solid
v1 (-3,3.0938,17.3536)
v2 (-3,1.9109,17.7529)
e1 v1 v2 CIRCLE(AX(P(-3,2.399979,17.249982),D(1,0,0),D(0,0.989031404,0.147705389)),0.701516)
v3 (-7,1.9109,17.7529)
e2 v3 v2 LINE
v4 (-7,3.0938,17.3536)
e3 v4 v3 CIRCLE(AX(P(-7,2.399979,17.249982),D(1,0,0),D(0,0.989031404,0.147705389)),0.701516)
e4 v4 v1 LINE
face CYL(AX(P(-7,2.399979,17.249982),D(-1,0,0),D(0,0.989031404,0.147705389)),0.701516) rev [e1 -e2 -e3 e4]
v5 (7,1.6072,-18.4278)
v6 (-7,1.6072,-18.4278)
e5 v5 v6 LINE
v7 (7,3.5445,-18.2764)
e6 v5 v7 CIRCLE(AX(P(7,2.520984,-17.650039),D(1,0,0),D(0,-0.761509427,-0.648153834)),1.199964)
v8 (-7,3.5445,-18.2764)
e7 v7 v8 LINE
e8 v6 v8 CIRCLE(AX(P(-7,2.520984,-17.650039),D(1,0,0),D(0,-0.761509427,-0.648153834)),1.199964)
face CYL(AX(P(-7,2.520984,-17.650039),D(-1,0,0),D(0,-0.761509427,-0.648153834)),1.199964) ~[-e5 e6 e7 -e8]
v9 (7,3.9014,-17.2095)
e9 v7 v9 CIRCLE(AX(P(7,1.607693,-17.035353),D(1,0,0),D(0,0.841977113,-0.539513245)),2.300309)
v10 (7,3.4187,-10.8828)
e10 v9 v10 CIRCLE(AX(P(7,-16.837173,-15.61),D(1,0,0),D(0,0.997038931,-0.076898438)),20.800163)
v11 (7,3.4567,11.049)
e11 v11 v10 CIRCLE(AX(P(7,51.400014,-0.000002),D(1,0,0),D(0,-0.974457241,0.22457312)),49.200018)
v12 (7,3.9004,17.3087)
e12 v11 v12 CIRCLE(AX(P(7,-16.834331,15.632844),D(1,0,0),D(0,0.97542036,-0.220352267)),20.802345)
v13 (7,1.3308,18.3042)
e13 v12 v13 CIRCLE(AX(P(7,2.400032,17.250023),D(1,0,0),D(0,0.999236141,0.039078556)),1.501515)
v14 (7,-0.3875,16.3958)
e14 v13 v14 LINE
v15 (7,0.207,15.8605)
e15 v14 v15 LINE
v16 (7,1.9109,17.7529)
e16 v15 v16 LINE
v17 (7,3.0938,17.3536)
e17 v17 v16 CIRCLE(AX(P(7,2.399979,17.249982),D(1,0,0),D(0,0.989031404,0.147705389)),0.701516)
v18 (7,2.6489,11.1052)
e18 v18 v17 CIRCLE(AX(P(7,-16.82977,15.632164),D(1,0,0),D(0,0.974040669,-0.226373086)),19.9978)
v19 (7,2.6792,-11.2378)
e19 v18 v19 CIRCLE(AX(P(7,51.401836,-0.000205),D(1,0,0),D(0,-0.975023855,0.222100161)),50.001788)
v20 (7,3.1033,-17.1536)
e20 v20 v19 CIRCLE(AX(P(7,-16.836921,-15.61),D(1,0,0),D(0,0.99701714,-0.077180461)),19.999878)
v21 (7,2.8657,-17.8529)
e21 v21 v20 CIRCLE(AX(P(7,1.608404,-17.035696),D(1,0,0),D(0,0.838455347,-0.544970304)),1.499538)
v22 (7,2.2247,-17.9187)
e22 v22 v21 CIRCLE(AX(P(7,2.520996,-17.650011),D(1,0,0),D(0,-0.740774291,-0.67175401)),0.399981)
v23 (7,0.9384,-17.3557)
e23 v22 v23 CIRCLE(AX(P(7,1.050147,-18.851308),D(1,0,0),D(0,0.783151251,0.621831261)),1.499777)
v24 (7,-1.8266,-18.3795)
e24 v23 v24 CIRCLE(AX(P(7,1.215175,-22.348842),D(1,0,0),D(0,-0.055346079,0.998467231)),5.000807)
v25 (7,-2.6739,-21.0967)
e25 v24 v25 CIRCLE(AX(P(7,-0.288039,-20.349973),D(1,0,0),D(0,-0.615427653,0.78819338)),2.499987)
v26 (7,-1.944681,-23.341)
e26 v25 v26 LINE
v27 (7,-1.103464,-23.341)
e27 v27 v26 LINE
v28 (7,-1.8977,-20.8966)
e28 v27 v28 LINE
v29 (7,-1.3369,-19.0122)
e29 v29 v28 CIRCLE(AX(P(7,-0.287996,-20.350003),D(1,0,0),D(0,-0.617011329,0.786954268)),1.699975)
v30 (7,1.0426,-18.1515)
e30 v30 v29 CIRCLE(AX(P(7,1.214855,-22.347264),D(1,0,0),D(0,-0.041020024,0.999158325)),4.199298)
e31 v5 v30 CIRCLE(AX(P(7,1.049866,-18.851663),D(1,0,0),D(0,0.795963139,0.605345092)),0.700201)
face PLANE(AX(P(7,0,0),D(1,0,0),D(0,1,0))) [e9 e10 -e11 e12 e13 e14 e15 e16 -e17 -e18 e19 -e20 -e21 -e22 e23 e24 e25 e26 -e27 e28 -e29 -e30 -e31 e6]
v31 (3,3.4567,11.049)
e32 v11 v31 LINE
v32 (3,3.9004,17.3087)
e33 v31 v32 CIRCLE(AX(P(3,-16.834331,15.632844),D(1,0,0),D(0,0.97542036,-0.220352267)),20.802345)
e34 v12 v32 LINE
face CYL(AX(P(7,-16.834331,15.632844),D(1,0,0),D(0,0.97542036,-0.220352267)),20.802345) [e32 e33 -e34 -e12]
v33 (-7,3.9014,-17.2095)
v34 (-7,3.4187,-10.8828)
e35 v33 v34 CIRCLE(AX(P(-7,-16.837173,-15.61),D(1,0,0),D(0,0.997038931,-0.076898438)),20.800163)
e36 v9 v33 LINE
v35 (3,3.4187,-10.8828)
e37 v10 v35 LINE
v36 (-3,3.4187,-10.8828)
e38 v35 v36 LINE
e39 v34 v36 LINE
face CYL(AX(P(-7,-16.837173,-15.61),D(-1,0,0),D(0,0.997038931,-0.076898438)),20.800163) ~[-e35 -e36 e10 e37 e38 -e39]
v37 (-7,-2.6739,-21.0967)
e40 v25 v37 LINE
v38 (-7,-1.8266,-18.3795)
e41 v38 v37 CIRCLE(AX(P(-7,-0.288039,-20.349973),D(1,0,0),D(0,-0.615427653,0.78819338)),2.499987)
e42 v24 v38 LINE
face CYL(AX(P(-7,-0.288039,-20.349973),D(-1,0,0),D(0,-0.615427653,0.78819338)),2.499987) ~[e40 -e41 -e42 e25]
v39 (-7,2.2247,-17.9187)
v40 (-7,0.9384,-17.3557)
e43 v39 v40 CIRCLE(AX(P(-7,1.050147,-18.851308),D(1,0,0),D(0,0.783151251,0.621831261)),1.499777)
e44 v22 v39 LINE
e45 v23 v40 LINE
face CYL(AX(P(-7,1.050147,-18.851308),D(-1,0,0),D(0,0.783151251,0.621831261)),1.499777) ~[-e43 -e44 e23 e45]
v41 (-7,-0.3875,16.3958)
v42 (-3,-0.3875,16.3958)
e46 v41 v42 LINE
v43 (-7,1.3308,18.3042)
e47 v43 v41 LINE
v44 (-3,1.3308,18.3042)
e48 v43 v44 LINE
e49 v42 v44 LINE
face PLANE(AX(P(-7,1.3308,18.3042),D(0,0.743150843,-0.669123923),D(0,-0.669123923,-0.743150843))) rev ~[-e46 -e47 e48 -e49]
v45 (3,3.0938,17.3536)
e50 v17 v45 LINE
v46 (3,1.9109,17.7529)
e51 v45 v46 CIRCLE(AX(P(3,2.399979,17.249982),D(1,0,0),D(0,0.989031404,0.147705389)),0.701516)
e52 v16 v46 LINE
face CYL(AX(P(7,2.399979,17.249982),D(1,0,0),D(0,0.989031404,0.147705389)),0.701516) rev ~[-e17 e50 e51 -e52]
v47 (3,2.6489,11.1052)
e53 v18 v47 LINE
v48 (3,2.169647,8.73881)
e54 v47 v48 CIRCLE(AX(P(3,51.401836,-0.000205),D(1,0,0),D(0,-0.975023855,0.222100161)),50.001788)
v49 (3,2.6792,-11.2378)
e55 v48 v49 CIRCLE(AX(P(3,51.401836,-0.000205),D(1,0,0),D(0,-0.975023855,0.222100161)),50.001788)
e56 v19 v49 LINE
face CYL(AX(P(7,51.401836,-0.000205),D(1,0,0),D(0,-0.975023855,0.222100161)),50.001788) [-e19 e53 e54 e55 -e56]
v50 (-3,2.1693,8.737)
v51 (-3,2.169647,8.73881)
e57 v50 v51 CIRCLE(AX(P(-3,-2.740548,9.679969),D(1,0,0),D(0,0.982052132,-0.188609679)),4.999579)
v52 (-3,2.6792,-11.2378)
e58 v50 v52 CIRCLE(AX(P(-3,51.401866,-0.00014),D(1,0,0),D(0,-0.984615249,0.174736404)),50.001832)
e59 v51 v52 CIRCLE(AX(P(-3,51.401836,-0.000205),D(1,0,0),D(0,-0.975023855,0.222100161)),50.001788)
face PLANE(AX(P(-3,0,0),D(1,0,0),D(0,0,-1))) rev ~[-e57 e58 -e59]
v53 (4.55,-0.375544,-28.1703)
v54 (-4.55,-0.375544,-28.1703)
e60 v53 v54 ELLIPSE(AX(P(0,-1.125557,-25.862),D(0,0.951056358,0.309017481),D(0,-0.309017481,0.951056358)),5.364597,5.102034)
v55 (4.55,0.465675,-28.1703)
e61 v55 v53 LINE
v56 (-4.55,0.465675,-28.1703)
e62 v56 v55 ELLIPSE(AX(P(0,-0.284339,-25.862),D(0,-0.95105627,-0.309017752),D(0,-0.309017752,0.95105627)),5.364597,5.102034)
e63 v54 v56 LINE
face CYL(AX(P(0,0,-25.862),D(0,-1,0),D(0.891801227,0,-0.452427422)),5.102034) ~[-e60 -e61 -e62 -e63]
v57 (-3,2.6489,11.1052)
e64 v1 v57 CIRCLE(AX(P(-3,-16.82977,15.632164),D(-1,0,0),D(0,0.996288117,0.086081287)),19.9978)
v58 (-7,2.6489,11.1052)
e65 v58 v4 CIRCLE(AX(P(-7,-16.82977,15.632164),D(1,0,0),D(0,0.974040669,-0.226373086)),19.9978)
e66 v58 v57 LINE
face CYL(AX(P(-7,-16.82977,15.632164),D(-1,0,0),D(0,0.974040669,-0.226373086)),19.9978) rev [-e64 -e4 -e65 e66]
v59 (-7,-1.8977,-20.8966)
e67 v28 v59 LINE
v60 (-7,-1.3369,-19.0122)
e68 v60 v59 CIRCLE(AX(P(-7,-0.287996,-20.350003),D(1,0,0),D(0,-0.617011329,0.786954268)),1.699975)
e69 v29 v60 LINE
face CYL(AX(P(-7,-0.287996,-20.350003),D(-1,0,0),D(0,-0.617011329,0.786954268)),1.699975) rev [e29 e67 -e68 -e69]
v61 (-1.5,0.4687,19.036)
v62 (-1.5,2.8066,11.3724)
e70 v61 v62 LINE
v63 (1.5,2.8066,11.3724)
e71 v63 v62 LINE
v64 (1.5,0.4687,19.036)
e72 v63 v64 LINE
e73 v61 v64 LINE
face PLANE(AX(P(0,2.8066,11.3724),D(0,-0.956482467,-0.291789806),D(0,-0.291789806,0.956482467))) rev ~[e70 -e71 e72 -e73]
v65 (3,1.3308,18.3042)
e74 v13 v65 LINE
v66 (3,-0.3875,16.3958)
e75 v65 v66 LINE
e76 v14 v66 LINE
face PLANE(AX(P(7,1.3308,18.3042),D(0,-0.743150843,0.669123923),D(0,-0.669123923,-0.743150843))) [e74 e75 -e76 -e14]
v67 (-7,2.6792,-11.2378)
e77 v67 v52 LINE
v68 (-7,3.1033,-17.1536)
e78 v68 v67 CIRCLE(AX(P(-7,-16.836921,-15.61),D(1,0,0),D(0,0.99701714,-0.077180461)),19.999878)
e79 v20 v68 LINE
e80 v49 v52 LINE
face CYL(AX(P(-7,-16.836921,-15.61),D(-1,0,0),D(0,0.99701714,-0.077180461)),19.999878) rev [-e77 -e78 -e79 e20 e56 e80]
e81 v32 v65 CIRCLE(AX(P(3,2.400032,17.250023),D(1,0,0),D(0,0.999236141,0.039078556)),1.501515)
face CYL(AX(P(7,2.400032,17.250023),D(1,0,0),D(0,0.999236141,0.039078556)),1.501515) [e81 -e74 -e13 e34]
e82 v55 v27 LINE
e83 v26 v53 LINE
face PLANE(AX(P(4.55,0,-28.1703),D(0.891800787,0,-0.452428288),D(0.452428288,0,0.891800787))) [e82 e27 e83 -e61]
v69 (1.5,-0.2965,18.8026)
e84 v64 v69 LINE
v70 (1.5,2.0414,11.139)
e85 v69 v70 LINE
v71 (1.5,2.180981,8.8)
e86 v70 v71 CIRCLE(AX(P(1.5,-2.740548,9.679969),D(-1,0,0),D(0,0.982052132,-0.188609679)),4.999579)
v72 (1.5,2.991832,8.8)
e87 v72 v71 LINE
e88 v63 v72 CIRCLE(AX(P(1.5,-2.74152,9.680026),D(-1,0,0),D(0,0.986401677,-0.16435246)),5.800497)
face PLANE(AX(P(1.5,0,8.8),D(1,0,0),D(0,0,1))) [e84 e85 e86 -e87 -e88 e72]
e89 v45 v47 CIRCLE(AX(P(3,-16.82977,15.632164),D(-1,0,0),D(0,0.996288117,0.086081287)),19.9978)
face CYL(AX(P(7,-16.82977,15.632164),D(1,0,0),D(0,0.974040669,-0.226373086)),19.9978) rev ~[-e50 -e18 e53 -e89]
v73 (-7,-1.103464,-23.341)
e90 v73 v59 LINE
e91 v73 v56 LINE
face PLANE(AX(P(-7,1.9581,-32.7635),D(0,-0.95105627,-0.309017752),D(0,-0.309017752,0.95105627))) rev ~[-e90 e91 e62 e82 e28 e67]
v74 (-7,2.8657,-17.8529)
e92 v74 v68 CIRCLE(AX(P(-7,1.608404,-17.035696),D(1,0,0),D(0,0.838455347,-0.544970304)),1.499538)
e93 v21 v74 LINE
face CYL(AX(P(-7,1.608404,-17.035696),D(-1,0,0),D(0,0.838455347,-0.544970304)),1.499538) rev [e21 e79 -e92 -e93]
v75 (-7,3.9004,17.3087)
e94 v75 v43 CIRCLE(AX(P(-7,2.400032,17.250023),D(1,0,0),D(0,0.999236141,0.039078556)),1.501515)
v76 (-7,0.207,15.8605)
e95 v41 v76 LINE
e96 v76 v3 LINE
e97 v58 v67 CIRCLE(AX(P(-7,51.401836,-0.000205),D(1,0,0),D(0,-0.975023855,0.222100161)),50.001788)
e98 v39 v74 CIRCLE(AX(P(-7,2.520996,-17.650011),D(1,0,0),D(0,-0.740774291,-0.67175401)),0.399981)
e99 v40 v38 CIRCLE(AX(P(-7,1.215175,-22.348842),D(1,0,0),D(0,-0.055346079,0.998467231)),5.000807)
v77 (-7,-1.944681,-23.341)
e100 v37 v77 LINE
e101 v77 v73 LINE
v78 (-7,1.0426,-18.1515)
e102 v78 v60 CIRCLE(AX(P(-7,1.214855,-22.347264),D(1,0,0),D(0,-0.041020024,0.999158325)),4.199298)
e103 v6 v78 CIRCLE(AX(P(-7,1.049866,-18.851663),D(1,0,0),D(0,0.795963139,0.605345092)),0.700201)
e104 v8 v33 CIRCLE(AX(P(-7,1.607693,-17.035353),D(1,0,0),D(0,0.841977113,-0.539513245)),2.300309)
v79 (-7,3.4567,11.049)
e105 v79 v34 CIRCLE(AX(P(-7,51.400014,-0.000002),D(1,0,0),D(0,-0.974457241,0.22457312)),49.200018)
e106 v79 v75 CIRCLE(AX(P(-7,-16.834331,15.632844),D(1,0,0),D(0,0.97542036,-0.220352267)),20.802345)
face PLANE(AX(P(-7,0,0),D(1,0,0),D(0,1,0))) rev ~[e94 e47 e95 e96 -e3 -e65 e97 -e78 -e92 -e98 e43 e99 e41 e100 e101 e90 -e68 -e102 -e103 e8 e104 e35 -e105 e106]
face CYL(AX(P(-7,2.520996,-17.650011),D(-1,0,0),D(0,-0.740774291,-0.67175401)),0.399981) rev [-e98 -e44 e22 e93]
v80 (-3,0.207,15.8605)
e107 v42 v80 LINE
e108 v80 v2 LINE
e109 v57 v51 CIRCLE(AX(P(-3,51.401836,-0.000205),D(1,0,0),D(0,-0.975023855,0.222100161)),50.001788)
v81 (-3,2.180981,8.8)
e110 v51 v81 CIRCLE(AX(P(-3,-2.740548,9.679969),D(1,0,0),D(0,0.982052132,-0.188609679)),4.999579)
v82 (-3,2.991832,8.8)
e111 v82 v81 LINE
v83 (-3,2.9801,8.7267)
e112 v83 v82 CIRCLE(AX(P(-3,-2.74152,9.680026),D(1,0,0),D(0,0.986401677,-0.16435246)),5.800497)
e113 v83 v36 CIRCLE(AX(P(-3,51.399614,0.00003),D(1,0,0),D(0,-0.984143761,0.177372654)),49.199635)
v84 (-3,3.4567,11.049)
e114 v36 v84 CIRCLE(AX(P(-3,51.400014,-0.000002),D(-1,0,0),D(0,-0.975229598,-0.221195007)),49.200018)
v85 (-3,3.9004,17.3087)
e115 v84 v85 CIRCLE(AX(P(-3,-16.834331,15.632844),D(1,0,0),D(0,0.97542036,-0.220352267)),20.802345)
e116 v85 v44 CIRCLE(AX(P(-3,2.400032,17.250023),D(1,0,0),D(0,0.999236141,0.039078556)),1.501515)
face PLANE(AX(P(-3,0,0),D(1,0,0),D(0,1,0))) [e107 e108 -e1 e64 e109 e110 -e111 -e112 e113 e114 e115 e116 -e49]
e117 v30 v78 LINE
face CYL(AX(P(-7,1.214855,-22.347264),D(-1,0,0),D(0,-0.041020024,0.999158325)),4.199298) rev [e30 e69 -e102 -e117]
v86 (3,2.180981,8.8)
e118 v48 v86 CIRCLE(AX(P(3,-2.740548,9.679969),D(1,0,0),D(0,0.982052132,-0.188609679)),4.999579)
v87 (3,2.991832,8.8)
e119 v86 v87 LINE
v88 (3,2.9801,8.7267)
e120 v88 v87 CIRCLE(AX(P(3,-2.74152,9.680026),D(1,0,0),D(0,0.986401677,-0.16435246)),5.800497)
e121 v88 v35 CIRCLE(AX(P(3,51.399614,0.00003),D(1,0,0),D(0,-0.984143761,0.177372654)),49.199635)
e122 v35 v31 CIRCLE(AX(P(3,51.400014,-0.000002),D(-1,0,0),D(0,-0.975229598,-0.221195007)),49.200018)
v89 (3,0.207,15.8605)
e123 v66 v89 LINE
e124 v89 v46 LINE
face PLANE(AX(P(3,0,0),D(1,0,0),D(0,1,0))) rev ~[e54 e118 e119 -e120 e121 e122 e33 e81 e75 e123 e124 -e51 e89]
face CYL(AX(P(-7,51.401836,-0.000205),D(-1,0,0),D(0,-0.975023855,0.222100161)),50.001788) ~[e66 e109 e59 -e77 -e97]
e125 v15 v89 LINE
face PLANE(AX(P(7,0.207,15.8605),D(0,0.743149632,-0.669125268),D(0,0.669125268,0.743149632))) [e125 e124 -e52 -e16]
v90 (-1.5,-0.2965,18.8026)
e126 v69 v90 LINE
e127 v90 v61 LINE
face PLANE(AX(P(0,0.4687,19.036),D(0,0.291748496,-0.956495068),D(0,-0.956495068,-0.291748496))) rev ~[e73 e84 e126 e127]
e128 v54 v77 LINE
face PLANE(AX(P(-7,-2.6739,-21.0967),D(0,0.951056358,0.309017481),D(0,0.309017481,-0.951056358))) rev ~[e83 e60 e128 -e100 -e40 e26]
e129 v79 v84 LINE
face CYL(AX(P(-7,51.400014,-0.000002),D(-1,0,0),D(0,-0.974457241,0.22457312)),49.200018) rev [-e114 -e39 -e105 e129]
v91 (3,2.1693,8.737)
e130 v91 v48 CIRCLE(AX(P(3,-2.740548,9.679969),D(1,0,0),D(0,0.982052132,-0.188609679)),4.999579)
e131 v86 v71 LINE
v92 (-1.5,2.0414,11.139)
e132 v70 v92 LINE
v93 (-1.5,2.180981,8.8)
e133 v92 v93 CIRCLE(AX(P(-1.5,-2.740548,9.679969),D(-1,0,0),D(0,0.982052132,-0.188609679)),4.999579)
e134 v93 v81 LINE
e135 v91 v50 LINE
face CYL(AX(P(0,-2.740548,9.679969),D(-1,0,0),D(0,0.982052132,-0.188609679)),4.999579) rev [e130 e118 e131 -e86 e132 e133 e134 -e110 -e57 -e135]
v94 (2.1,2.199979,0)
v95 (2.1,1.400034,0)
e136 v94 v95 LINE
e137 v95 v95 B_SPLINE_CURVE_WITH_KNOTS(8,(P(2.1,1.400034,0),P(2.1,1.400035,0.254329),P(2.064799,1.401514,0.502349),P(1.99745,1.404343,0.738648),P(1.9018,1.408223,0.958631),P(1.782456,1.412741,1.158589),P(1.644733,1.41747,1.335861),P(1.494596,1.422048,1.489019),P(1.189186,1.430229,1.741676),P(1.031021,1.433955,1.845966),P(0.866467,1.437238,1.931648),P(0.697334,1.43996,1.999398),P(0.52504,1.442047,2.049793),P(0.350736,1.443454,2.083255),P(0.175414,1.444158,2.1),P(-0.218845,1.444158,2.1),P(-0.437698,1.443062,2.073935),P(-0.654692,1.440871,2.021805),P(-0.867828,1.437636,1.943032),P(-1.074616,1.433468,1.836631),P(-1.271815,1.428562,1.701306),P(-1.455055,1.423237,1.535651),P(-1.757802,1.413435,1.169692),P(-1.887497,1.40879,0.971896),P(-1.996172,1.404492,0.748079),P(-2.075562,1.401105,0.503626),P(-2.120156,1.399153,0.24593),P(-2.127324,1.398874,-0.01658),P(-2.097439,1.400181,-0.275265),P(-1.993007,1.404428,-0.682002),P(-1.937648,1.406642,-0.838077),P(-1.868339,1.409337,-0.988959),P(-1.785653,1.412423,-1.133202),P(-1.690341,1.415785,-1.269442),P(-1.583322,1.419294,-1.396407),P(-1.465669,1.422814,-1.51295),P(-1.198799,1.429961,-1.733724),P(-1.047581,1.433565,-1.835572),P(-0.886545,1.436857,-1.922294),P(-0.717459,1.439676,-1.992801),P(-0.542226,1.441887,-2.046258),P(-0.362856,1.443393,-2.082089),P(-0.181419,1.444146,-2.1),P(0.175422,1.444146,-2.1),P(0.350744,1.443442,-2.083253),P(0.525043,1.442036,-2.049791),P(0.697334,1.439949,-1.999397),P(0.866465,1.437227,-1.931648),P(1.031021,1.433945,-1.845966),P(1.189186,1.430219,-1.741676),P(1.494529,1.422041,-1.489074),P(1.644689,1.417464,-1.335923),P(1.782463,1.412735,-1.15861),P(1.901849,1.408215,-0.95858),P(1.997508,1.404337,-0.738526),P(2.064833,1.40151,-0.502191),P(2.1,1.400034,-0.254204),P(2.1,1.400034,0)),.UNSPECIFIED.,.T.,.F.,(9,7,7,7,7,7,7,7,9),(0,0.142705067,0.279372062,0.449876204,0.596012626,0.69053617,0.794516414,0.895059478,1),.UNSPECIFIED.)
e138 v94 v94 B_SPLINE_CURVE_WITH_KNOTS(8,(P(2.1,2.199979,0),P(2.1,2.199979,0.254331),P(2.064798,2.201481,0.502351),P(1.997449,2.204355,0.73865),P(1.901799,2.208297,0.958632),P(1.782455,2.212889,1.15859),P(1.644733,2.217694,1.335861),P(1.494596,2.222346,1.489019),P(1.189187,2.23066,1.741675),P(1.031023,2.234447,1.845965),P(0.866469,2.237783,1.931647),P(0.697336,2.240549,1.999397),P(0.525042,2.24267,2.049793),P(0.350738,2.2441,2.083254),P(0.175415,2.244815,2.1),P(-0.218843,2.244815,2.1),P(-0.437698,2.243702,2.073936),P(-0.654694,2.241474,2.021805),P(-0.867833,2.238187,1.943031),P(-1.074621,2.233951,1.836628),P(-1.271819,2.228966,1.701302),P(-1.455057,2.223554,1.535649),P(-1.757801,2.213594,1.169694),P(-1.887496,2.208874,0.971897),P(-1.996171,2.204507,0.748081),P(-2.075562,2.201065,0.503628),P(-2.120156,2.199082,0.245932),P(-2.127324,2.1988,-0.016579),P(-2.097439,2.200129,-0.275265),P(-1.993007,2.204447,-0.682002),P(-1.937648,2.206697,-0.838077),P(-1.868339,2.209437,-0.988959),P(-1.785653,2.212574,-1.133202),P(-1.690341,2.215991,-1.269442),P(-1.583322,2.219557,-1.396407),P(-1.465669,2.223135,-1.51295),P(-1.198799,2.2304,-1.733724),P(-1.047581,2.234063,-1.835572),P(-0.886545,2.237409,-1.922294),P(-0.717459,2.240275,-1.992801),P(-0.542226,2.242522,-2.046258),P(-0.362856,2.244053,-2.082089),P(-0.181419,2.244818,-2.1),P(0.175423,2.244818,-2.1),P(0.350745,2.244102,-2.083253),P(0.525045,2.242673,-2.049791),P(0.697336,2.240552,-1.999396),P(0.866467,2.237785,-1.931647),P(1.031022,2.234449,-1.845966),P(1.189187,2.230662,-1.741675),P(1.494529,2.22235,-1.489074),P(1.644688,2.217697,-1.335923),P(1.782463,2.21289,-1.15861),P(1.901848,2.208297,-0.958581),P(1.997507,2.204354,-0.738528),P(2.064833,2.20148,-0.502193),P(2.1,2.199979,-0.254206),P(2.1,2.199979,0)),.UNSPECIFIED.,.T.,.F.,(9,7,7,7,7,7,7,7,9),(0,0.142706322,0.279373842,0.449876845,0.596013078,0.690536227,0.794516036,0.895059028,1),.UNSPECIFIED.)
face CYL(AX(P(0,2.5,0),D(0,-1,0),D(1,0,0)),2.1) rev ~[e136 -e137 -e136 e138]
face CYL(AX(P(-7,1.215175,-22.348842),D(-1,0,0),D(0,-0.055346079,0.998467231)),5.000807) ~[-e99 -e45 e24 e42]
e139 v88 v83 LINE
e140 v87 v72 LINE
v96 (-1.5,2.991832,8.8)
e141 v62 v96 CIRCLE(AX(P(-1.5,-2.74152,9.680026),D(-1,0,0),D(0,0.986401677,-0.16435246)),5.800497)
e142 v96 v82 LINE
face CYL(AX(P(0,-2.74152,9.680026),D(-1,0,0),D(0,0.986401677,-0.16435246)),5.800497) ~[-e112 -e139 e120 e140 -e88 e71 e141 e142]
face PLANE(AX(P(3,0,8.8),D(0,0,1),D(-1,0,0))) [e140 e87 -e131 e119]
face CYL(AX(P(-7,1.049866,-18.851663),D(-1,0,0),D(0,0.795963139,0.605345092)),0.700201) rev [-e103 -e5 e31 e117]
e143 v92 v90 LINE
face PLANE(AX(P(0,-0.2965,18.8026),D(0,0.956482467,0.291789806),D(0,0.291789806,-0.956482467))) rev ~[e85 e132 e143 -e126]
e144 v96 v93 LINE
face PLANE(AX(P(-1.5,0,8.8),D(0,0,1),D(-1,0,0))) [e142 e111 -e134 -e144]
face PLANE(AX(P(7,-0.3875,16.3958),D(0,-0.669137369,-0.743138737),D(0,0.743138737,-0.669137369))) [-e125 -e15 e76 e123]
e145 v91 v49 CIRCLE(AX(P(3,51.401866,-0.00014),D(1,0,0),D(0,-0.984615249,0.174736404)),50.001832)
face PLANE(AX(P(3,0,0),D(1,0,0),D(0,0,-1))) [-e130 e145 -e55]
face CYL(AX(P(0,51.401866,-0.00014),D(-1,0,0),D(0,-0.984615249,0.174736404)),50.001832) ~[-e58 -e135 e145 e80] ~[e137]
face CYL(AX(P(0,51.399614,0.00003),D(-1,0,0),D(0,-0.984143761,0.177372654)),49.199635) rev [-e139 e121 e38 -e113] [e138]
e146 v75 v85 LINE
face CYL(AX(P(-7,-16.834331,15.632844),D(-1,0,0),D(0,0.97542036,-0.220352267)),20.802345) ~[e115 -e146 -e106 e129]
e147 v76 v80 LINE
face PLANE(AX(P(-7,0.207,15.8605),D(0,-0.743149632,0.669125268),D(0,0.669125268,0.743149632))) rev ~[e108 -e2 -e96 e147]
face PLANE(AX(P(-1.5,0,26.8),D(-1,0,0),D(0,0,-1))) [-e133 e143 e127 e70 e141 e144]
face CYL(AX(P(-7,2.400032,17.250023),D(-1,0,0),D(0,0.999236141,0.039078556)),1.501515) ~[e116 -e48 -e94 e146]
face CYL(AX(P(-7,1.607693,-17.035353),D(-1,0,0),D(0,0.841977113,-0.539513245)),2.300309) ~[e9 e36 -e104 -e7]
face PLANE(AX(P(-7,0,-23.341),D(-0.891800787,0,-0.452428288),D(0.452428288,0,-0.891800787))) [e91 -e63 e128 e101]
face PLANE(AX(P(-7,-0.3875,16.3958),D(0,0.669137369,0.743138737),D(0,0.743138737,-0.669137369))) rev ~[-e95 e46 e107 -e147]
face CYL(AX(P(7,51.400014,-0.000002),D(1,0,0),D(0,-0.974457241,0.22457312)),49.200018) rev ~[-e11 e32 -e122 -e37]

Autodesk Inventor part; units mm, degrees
sketch "Sketch_5" plane through (0, 0, 0) normal (1, 0, 0) x (0, 1, 0)
  line L0 (10, 30) -> (-10, 30)
  line L1 (-10, 30) -> (-10, -40)
  line L2 (-10, -40) -> (10, -40)
  line L3 (10, -40) -> (10, 30)
extrude "Extrusion1" add sketch "Sketch_5" along normal mid plane 14
sketch "Sketch_6" plane through (7, 0, 0) normal (1, 0, 0) x (0, 0, -1)
  line L0 (-40, 15) -> (-40, -15)
  line L1 (-40, -15) -> (50, -15)
  line L2 (50, -15) -> (50, 15)
  line L3 (50, 15) -> (-40, 15)
  arc A0 (-17.3087, 3.9004) -> (-18.3042, 1.3308) centre (-17.25, 2.4) ccw
  line L4 (-18.3042, 1.3308) -> (-16.3958, -0.3875)
  line L5 (-16.3958, -0.3875) -> (-15.8605, 0.207)
  line L6 (-15.8605, 0.207) -> (-17.7529, 1.9109)
  arc A1 (-17.3536, 3.0938) -> (-17.7529, 1.9109) centre (-17.25, 2.4) ccw
  arc A2 (-11.1052, 2.6489) -> (-17.3536, 3.0938) centre (-15.6325, -16.832) ccw
  arc A3 (-11.1052, 2.6489) -> (11.2378, 2.6792) centre (0, 51.4) ccw
  arc A4 (17.1536, 3.1033) -> (11.2378, 2.6792) centre (15.61, -16.837) ccw
  arc A5 (17.8529, 2.8657) -> (17.1536, 3.1033) centre (17.0355, 1.608) ccw
  arc A6 (17.9187, 2.2247) -> (17.8529, 2.8657) centre (17.65, 2.521) ccw
  arc A7 (17.9187, 2.2247) -> (17.3557, 0.9384) centre (18.8515, 1.05) ccw
  arc A8 (17.3557, 0.9384) -> (18.3795, -1.8266) centre (22.348, 1.215) ccw
  arc A9 (18.3795, -1.8266) -> (21.0967, -2.6739) centre (20.35, -0.288) ccw
  line L7 (21.0967, -2.6739) -> (33.0107, 1.1972)
  line L8 (33.0107, 1.1972) -> (32.7635, 1.9581)
  line L9 (32.7635, 1.9581) -> (20.8966, -1.8977)
  arc A10 (19.0122, -1.3369) -> (20.8966, -1.8977) centre (20.35, -0.288) ccw
  arc A11 (18.1515, 1.0426) -> (19.0122, -1.3369) centre (22.348, 1.215) ccw
  arc A12 (18.4278, 1.6072) -> (18.1515, 1.0426) centre (18.8515, 1.05) ccw
  arc A13 (18.4278, 1.6072) -> (18.2764, 3.5445) centre (17.65, 2.521) ccw
  arc A14 (18.2764, 3.5445) -> (17.2095, 3.9014) centre (17.0355, 1.608) ccw
  arc A15 (17.2095, 3.9014) -> (10.8828, 3.4187) centre (15.61, -16.837) ccw
  arc A16 (-11.049, 3.4567) -> (10.8828, 3.4187) centre (0, 51.4) ccw
  arc A17 (-11.049, 3.4567) -> (-17.3087, 3.9004) centre (-15.6325, -16.832) ccw
extrude "Extrusion2" cut sketch "Sketch_6" against normal blind 4
sketch "Sketch_7" plane through (-7, 0, 0) normal (1, 0, 0) x (0, 0, -1)
  line L0 (-40, 15) -> (-40, -15)
  line L1 (-40, -15) -> (50, -15)
  line L2 (50, -15) -> (50, 15)
  line L3 (50, 15) -> (-40, 15)
  arc A0 (-17.3087, 3.9004) -> (-18.3042, 1.3308) centre (-17.25, 2.4) ccw
  line L4 (-18.3042, 1.3308) -> (-16.3958, -0.3875)
  line L5 (-16.3958, -0.3875) -> (-15.8605, 0.207)
  line L6 (-15.8605, 0.207) -> (-17.7529, 1.9109)
  arc A1 (-17.3536, 3.0938) -> (-17.7529, 1.9109) centre (-17.25, 2.4) ccw
  arc A2 (-11.1052, 2.6489) -> (-17.3536, 3.0938) centre (-15.6325, -16.832) ccw
  arc A3 (-11.1052, 2.6489) -> (11.2378, 2.6792) centre (0, 51.4) ccw
  arc A4 (17.1536, 3.1033) -> (11.2378, 2.6792) centre (15.61, -16.837) ccw
  arc A5 (17.8529, 2.8657) -> (17.1536, 3.1033) centre (17.0355, 1.608) ccw
  arc A6 (17.9187, 2.2247) -> (17.8529, 2.8657) centre (17.65, 2.521) ccw
  arc A7 (17.9187, 2.2247) -> (17.3557, 0.9384) centre (18.8515, 1.05) ccw
  arc A8 (17.3557, 0.9384) -> (18.3795, -1.8266) centre (22.348, 1.215) ccw
  arc A9 (18.3795, -1.8266) -> (21.0967, -2.6739) centre (20.35, -0.288) ccw
  line L7 (21.0967, -2.6739) -> (33.0107, 1.1972)
  line L8 (33.0107, 1.1972) -> (32.7635, 1.9581)
  line L9 (32.7635, 1.9581) -> (20.8966, -1.8977)
  arc A10 (19.0122, -1.3369) -> (20.8966, -1.8977) centre (20.35, -0.288) ccw
  arc A11 (18.1515, 1.0426) -> (19.0122, -1.3369) centre (22.348, 1.215) ccw
  arc A12 (18.4278, 1.6072) -> (18.1515, 1.0426) centre (18.8515, 1.05) ccw
  arc A13 (18.4278, 1.6072) -> (18.2764, 3.5445) centre (17.65, 2.521) ccw
  arc A14 (18.2764, 3.5445) -> (17.2095, 3.9014) centre (17.0355, 1.608) ccw
  arc A15 (17.2095, 3.9014) -> (10.8828, 3.4187) centre (15.61, -16.837) ccw
  arc A16 (-11.049, 3.4567) -> (10.8828, 3.4187) centre (0, 51.4) ccw
  arc A17 (-11.049, 3.4567) -> (-17.3087, 3.9004) centre (-15.6325, -16.832) ccw
extrude "Extrusion3" cut sketch "Sketch_7" along normal blind 4
sketch "Sketch_2" plane through (0, 0, 0) normal (1, 0, 0) x (0, 1, 0)
  line L0 (-15, 40) -> (-15, -50)
  line L1 (-15, -50) -> (15, -50)
  line L2 (15, -50) -> (15, 40)
  line L3 (15, 40) -> (-15, 40)
  line L4 (0.4687, 19.036) -> (-0.2965, 18.8026)
  line L5 (-0.2965, 18.8026) -> (2.0414, 11.139)
  arc A0 (2.1693, 8.737) -> (2.0414, 11.139) centre (-2.741, 9.68) ccw
  arc A1 (2.1693, 8.737) -> (2.6792, -11.2378) centre (51.4, 0) ccw
  arc A2 (3.1033, -17.1536) -> (2.6792, -11.2378) centre (-16.837, -15.61) ccw
  arc A3 (2.8657, -17.8529) -> (3.1033, -17.1536) centre (1.608, -17.0355) ccw
  arc A4 (2.2247, -17.9187) -> (2.8657, -17.8529) centre (2.521, -17.65) ccw
  arc A5 (2.2247, -17.9187) -> (0.9384, -17.3557) centre (1.05, -18.8515) ccw
  arc A6 (0.9384, -17.3557) -> (-1.8266, -18.3795) centre (1.215, -22.348) ccw
  arc A7 (-1.8266, -18.3795) -> (-2.6739, -21.0967) centre (-0.288, -20.35) ccw
  line L6 (-2.6739, -21.0967) -> (1.1972, -33.0107)
  line L7 (1.1972, -33.0107) -> (1.9581, -32.7635)
  line L8 (1.9581, -32.7635) -> (-1.8977, -20.8966)
  arc A8 (-1.3369, -19.0122) -> (-1.8977, -20.8966) centre (-0.288, -20.35) ccw
  arc A9 (1.0426, -18.1515) -> (-1.3369, -19.0122) centre (1.215, -22.348) ccw
  arc A10 (1.6072, -18.4278) -> (1.0426, -18.1515) centre (1.05, -18.8515) ccw
  arc A11 (1.6072, -18.4278) -> (3.5445, -18.2764) centre (2.521, -17.65) ccw
  arc A12 (3.5445, -18.2764) -> (3.9014, -17.2095) centre (1.608, -17.0355) ccw
  arc A13 (3.9014, -17.2095) -> (3.4187, -10.8828) centre (-16.837, -15.61) ccw
  arc A14 (2.9801, 8.7267) -> (3.4187, -10.8828) centre (51.4, 0) ccw
  arc A15 (2.9801, 8.7267) -> (2.8066, 11.3724) centre (-2.741, 9.68) ccw
  line L9 (2.8066, 11.3724) -> (0.4687, 19.036)
extrude "Extrusion4" cut sketch "Sketch_2" along normal mid plane 6
sketch "Sketch_3" plane through (0, 0, 0) normal (0, 1, 0) x (-1, 0, 0)
  line L0 (3, 28.8) -> (-3, 28.8)
  line L1 (-3, 28.8) -> (-3, 8.8)
  line L2 (-3, 8.8) -> (-1.5, 8.8)
  line L3 (-1.5, 8.8) -> (-1.5, 26.8)
  line L4 (-1.5, 26.8) -> (1.5, 26.8)
  line L5 (1.5, 26.8) -> (1.5, 8.8)
  line L6 (1.5, 8.8) -> (3, 8.8)
  line L7 (3, 8.8) -> (3, 28.8)
extrude "Extrusion5" cut sketch "Sketch_3" along normal mid plane 16
sketch "Sketch_1" plane through (0, 0, 0) normal (0, 1, 0) x (-1, 0, 0)
  line L0 (7, -35.341) -> (7, -23.341)
  line L1 (7, -23.341) -> (4.55, -28.1703)
  arc A0 (-4.55, -28.1703) -> (4.55, -28.1703) centre (0, -25.862) ccw
  line L2 (-4.55, -28.1703) -> (-7, -23.341)
  line L3 (-7, -23.341) -> (-7, -35.341)
  line L4 (-7, -35.341) -> (7, -35.341)
extrude "Extrusion6" cut sketch "Sketch_1" along normal mid plane 16
sketch "Sketch_8" plane through (0, 0, 0) normal (0, 0, 1) x (1, 0, 0)
  line L0 (0, 1.4) -> (0, 2.5)
  line L1 (0, 2.5) -> (2.1, 2.5)
  line L2 (2.1, 2.5) -> (2.1, 1.4)
  line L3 (2.1, 1.4) -> (0, 1.4)
  line L4 (0, 1.4) -> (0, 2.5)
revolve "Revolution1" cut sketch "Sketch_8" angle 360 about axis through (0, 1.4, 0) along (0, -1, 0)
ref_plane "ANBAU_XY" through (0, 0, 0) normal (-1, 0, 0) x (0, 0, -1)
ref_plane "ANBAU_YZ" through (0, 0, 0) normal (0, 0, -1) x (0, -1, 0)
ref_plane "ANBAU_ZX" through (0, 0, 0) normal (0, -1, 0) x (-1, 0, 0)
ref_plane "B_XY" through (0, 1.4, 0) normal (0, -1, 0) x (1, 0, 0)
ref_plane "B_YZ" through (0, 1.4, 0) normal (1, 0, 0) x (0, 0, 1)
ref_plane "B_ZX" through (0, 1.4, 0) normal (0, 0, 1) x (0, -1, 0)
ref_plane "N_XY" through (0, 2.6, 0) normal (0, 1, 0) x (1, 0, 0)
ref_plane "N_YZ" through (0, 2.6, 0) normal (1, 0, 0) x (0, 0, -1)
ref_plane "N_ZX" through (0, 2.6, 0) normal (0, 0, -1) x (0, 1, 0)
properties part number "1360395 VAME-P11-MK"
